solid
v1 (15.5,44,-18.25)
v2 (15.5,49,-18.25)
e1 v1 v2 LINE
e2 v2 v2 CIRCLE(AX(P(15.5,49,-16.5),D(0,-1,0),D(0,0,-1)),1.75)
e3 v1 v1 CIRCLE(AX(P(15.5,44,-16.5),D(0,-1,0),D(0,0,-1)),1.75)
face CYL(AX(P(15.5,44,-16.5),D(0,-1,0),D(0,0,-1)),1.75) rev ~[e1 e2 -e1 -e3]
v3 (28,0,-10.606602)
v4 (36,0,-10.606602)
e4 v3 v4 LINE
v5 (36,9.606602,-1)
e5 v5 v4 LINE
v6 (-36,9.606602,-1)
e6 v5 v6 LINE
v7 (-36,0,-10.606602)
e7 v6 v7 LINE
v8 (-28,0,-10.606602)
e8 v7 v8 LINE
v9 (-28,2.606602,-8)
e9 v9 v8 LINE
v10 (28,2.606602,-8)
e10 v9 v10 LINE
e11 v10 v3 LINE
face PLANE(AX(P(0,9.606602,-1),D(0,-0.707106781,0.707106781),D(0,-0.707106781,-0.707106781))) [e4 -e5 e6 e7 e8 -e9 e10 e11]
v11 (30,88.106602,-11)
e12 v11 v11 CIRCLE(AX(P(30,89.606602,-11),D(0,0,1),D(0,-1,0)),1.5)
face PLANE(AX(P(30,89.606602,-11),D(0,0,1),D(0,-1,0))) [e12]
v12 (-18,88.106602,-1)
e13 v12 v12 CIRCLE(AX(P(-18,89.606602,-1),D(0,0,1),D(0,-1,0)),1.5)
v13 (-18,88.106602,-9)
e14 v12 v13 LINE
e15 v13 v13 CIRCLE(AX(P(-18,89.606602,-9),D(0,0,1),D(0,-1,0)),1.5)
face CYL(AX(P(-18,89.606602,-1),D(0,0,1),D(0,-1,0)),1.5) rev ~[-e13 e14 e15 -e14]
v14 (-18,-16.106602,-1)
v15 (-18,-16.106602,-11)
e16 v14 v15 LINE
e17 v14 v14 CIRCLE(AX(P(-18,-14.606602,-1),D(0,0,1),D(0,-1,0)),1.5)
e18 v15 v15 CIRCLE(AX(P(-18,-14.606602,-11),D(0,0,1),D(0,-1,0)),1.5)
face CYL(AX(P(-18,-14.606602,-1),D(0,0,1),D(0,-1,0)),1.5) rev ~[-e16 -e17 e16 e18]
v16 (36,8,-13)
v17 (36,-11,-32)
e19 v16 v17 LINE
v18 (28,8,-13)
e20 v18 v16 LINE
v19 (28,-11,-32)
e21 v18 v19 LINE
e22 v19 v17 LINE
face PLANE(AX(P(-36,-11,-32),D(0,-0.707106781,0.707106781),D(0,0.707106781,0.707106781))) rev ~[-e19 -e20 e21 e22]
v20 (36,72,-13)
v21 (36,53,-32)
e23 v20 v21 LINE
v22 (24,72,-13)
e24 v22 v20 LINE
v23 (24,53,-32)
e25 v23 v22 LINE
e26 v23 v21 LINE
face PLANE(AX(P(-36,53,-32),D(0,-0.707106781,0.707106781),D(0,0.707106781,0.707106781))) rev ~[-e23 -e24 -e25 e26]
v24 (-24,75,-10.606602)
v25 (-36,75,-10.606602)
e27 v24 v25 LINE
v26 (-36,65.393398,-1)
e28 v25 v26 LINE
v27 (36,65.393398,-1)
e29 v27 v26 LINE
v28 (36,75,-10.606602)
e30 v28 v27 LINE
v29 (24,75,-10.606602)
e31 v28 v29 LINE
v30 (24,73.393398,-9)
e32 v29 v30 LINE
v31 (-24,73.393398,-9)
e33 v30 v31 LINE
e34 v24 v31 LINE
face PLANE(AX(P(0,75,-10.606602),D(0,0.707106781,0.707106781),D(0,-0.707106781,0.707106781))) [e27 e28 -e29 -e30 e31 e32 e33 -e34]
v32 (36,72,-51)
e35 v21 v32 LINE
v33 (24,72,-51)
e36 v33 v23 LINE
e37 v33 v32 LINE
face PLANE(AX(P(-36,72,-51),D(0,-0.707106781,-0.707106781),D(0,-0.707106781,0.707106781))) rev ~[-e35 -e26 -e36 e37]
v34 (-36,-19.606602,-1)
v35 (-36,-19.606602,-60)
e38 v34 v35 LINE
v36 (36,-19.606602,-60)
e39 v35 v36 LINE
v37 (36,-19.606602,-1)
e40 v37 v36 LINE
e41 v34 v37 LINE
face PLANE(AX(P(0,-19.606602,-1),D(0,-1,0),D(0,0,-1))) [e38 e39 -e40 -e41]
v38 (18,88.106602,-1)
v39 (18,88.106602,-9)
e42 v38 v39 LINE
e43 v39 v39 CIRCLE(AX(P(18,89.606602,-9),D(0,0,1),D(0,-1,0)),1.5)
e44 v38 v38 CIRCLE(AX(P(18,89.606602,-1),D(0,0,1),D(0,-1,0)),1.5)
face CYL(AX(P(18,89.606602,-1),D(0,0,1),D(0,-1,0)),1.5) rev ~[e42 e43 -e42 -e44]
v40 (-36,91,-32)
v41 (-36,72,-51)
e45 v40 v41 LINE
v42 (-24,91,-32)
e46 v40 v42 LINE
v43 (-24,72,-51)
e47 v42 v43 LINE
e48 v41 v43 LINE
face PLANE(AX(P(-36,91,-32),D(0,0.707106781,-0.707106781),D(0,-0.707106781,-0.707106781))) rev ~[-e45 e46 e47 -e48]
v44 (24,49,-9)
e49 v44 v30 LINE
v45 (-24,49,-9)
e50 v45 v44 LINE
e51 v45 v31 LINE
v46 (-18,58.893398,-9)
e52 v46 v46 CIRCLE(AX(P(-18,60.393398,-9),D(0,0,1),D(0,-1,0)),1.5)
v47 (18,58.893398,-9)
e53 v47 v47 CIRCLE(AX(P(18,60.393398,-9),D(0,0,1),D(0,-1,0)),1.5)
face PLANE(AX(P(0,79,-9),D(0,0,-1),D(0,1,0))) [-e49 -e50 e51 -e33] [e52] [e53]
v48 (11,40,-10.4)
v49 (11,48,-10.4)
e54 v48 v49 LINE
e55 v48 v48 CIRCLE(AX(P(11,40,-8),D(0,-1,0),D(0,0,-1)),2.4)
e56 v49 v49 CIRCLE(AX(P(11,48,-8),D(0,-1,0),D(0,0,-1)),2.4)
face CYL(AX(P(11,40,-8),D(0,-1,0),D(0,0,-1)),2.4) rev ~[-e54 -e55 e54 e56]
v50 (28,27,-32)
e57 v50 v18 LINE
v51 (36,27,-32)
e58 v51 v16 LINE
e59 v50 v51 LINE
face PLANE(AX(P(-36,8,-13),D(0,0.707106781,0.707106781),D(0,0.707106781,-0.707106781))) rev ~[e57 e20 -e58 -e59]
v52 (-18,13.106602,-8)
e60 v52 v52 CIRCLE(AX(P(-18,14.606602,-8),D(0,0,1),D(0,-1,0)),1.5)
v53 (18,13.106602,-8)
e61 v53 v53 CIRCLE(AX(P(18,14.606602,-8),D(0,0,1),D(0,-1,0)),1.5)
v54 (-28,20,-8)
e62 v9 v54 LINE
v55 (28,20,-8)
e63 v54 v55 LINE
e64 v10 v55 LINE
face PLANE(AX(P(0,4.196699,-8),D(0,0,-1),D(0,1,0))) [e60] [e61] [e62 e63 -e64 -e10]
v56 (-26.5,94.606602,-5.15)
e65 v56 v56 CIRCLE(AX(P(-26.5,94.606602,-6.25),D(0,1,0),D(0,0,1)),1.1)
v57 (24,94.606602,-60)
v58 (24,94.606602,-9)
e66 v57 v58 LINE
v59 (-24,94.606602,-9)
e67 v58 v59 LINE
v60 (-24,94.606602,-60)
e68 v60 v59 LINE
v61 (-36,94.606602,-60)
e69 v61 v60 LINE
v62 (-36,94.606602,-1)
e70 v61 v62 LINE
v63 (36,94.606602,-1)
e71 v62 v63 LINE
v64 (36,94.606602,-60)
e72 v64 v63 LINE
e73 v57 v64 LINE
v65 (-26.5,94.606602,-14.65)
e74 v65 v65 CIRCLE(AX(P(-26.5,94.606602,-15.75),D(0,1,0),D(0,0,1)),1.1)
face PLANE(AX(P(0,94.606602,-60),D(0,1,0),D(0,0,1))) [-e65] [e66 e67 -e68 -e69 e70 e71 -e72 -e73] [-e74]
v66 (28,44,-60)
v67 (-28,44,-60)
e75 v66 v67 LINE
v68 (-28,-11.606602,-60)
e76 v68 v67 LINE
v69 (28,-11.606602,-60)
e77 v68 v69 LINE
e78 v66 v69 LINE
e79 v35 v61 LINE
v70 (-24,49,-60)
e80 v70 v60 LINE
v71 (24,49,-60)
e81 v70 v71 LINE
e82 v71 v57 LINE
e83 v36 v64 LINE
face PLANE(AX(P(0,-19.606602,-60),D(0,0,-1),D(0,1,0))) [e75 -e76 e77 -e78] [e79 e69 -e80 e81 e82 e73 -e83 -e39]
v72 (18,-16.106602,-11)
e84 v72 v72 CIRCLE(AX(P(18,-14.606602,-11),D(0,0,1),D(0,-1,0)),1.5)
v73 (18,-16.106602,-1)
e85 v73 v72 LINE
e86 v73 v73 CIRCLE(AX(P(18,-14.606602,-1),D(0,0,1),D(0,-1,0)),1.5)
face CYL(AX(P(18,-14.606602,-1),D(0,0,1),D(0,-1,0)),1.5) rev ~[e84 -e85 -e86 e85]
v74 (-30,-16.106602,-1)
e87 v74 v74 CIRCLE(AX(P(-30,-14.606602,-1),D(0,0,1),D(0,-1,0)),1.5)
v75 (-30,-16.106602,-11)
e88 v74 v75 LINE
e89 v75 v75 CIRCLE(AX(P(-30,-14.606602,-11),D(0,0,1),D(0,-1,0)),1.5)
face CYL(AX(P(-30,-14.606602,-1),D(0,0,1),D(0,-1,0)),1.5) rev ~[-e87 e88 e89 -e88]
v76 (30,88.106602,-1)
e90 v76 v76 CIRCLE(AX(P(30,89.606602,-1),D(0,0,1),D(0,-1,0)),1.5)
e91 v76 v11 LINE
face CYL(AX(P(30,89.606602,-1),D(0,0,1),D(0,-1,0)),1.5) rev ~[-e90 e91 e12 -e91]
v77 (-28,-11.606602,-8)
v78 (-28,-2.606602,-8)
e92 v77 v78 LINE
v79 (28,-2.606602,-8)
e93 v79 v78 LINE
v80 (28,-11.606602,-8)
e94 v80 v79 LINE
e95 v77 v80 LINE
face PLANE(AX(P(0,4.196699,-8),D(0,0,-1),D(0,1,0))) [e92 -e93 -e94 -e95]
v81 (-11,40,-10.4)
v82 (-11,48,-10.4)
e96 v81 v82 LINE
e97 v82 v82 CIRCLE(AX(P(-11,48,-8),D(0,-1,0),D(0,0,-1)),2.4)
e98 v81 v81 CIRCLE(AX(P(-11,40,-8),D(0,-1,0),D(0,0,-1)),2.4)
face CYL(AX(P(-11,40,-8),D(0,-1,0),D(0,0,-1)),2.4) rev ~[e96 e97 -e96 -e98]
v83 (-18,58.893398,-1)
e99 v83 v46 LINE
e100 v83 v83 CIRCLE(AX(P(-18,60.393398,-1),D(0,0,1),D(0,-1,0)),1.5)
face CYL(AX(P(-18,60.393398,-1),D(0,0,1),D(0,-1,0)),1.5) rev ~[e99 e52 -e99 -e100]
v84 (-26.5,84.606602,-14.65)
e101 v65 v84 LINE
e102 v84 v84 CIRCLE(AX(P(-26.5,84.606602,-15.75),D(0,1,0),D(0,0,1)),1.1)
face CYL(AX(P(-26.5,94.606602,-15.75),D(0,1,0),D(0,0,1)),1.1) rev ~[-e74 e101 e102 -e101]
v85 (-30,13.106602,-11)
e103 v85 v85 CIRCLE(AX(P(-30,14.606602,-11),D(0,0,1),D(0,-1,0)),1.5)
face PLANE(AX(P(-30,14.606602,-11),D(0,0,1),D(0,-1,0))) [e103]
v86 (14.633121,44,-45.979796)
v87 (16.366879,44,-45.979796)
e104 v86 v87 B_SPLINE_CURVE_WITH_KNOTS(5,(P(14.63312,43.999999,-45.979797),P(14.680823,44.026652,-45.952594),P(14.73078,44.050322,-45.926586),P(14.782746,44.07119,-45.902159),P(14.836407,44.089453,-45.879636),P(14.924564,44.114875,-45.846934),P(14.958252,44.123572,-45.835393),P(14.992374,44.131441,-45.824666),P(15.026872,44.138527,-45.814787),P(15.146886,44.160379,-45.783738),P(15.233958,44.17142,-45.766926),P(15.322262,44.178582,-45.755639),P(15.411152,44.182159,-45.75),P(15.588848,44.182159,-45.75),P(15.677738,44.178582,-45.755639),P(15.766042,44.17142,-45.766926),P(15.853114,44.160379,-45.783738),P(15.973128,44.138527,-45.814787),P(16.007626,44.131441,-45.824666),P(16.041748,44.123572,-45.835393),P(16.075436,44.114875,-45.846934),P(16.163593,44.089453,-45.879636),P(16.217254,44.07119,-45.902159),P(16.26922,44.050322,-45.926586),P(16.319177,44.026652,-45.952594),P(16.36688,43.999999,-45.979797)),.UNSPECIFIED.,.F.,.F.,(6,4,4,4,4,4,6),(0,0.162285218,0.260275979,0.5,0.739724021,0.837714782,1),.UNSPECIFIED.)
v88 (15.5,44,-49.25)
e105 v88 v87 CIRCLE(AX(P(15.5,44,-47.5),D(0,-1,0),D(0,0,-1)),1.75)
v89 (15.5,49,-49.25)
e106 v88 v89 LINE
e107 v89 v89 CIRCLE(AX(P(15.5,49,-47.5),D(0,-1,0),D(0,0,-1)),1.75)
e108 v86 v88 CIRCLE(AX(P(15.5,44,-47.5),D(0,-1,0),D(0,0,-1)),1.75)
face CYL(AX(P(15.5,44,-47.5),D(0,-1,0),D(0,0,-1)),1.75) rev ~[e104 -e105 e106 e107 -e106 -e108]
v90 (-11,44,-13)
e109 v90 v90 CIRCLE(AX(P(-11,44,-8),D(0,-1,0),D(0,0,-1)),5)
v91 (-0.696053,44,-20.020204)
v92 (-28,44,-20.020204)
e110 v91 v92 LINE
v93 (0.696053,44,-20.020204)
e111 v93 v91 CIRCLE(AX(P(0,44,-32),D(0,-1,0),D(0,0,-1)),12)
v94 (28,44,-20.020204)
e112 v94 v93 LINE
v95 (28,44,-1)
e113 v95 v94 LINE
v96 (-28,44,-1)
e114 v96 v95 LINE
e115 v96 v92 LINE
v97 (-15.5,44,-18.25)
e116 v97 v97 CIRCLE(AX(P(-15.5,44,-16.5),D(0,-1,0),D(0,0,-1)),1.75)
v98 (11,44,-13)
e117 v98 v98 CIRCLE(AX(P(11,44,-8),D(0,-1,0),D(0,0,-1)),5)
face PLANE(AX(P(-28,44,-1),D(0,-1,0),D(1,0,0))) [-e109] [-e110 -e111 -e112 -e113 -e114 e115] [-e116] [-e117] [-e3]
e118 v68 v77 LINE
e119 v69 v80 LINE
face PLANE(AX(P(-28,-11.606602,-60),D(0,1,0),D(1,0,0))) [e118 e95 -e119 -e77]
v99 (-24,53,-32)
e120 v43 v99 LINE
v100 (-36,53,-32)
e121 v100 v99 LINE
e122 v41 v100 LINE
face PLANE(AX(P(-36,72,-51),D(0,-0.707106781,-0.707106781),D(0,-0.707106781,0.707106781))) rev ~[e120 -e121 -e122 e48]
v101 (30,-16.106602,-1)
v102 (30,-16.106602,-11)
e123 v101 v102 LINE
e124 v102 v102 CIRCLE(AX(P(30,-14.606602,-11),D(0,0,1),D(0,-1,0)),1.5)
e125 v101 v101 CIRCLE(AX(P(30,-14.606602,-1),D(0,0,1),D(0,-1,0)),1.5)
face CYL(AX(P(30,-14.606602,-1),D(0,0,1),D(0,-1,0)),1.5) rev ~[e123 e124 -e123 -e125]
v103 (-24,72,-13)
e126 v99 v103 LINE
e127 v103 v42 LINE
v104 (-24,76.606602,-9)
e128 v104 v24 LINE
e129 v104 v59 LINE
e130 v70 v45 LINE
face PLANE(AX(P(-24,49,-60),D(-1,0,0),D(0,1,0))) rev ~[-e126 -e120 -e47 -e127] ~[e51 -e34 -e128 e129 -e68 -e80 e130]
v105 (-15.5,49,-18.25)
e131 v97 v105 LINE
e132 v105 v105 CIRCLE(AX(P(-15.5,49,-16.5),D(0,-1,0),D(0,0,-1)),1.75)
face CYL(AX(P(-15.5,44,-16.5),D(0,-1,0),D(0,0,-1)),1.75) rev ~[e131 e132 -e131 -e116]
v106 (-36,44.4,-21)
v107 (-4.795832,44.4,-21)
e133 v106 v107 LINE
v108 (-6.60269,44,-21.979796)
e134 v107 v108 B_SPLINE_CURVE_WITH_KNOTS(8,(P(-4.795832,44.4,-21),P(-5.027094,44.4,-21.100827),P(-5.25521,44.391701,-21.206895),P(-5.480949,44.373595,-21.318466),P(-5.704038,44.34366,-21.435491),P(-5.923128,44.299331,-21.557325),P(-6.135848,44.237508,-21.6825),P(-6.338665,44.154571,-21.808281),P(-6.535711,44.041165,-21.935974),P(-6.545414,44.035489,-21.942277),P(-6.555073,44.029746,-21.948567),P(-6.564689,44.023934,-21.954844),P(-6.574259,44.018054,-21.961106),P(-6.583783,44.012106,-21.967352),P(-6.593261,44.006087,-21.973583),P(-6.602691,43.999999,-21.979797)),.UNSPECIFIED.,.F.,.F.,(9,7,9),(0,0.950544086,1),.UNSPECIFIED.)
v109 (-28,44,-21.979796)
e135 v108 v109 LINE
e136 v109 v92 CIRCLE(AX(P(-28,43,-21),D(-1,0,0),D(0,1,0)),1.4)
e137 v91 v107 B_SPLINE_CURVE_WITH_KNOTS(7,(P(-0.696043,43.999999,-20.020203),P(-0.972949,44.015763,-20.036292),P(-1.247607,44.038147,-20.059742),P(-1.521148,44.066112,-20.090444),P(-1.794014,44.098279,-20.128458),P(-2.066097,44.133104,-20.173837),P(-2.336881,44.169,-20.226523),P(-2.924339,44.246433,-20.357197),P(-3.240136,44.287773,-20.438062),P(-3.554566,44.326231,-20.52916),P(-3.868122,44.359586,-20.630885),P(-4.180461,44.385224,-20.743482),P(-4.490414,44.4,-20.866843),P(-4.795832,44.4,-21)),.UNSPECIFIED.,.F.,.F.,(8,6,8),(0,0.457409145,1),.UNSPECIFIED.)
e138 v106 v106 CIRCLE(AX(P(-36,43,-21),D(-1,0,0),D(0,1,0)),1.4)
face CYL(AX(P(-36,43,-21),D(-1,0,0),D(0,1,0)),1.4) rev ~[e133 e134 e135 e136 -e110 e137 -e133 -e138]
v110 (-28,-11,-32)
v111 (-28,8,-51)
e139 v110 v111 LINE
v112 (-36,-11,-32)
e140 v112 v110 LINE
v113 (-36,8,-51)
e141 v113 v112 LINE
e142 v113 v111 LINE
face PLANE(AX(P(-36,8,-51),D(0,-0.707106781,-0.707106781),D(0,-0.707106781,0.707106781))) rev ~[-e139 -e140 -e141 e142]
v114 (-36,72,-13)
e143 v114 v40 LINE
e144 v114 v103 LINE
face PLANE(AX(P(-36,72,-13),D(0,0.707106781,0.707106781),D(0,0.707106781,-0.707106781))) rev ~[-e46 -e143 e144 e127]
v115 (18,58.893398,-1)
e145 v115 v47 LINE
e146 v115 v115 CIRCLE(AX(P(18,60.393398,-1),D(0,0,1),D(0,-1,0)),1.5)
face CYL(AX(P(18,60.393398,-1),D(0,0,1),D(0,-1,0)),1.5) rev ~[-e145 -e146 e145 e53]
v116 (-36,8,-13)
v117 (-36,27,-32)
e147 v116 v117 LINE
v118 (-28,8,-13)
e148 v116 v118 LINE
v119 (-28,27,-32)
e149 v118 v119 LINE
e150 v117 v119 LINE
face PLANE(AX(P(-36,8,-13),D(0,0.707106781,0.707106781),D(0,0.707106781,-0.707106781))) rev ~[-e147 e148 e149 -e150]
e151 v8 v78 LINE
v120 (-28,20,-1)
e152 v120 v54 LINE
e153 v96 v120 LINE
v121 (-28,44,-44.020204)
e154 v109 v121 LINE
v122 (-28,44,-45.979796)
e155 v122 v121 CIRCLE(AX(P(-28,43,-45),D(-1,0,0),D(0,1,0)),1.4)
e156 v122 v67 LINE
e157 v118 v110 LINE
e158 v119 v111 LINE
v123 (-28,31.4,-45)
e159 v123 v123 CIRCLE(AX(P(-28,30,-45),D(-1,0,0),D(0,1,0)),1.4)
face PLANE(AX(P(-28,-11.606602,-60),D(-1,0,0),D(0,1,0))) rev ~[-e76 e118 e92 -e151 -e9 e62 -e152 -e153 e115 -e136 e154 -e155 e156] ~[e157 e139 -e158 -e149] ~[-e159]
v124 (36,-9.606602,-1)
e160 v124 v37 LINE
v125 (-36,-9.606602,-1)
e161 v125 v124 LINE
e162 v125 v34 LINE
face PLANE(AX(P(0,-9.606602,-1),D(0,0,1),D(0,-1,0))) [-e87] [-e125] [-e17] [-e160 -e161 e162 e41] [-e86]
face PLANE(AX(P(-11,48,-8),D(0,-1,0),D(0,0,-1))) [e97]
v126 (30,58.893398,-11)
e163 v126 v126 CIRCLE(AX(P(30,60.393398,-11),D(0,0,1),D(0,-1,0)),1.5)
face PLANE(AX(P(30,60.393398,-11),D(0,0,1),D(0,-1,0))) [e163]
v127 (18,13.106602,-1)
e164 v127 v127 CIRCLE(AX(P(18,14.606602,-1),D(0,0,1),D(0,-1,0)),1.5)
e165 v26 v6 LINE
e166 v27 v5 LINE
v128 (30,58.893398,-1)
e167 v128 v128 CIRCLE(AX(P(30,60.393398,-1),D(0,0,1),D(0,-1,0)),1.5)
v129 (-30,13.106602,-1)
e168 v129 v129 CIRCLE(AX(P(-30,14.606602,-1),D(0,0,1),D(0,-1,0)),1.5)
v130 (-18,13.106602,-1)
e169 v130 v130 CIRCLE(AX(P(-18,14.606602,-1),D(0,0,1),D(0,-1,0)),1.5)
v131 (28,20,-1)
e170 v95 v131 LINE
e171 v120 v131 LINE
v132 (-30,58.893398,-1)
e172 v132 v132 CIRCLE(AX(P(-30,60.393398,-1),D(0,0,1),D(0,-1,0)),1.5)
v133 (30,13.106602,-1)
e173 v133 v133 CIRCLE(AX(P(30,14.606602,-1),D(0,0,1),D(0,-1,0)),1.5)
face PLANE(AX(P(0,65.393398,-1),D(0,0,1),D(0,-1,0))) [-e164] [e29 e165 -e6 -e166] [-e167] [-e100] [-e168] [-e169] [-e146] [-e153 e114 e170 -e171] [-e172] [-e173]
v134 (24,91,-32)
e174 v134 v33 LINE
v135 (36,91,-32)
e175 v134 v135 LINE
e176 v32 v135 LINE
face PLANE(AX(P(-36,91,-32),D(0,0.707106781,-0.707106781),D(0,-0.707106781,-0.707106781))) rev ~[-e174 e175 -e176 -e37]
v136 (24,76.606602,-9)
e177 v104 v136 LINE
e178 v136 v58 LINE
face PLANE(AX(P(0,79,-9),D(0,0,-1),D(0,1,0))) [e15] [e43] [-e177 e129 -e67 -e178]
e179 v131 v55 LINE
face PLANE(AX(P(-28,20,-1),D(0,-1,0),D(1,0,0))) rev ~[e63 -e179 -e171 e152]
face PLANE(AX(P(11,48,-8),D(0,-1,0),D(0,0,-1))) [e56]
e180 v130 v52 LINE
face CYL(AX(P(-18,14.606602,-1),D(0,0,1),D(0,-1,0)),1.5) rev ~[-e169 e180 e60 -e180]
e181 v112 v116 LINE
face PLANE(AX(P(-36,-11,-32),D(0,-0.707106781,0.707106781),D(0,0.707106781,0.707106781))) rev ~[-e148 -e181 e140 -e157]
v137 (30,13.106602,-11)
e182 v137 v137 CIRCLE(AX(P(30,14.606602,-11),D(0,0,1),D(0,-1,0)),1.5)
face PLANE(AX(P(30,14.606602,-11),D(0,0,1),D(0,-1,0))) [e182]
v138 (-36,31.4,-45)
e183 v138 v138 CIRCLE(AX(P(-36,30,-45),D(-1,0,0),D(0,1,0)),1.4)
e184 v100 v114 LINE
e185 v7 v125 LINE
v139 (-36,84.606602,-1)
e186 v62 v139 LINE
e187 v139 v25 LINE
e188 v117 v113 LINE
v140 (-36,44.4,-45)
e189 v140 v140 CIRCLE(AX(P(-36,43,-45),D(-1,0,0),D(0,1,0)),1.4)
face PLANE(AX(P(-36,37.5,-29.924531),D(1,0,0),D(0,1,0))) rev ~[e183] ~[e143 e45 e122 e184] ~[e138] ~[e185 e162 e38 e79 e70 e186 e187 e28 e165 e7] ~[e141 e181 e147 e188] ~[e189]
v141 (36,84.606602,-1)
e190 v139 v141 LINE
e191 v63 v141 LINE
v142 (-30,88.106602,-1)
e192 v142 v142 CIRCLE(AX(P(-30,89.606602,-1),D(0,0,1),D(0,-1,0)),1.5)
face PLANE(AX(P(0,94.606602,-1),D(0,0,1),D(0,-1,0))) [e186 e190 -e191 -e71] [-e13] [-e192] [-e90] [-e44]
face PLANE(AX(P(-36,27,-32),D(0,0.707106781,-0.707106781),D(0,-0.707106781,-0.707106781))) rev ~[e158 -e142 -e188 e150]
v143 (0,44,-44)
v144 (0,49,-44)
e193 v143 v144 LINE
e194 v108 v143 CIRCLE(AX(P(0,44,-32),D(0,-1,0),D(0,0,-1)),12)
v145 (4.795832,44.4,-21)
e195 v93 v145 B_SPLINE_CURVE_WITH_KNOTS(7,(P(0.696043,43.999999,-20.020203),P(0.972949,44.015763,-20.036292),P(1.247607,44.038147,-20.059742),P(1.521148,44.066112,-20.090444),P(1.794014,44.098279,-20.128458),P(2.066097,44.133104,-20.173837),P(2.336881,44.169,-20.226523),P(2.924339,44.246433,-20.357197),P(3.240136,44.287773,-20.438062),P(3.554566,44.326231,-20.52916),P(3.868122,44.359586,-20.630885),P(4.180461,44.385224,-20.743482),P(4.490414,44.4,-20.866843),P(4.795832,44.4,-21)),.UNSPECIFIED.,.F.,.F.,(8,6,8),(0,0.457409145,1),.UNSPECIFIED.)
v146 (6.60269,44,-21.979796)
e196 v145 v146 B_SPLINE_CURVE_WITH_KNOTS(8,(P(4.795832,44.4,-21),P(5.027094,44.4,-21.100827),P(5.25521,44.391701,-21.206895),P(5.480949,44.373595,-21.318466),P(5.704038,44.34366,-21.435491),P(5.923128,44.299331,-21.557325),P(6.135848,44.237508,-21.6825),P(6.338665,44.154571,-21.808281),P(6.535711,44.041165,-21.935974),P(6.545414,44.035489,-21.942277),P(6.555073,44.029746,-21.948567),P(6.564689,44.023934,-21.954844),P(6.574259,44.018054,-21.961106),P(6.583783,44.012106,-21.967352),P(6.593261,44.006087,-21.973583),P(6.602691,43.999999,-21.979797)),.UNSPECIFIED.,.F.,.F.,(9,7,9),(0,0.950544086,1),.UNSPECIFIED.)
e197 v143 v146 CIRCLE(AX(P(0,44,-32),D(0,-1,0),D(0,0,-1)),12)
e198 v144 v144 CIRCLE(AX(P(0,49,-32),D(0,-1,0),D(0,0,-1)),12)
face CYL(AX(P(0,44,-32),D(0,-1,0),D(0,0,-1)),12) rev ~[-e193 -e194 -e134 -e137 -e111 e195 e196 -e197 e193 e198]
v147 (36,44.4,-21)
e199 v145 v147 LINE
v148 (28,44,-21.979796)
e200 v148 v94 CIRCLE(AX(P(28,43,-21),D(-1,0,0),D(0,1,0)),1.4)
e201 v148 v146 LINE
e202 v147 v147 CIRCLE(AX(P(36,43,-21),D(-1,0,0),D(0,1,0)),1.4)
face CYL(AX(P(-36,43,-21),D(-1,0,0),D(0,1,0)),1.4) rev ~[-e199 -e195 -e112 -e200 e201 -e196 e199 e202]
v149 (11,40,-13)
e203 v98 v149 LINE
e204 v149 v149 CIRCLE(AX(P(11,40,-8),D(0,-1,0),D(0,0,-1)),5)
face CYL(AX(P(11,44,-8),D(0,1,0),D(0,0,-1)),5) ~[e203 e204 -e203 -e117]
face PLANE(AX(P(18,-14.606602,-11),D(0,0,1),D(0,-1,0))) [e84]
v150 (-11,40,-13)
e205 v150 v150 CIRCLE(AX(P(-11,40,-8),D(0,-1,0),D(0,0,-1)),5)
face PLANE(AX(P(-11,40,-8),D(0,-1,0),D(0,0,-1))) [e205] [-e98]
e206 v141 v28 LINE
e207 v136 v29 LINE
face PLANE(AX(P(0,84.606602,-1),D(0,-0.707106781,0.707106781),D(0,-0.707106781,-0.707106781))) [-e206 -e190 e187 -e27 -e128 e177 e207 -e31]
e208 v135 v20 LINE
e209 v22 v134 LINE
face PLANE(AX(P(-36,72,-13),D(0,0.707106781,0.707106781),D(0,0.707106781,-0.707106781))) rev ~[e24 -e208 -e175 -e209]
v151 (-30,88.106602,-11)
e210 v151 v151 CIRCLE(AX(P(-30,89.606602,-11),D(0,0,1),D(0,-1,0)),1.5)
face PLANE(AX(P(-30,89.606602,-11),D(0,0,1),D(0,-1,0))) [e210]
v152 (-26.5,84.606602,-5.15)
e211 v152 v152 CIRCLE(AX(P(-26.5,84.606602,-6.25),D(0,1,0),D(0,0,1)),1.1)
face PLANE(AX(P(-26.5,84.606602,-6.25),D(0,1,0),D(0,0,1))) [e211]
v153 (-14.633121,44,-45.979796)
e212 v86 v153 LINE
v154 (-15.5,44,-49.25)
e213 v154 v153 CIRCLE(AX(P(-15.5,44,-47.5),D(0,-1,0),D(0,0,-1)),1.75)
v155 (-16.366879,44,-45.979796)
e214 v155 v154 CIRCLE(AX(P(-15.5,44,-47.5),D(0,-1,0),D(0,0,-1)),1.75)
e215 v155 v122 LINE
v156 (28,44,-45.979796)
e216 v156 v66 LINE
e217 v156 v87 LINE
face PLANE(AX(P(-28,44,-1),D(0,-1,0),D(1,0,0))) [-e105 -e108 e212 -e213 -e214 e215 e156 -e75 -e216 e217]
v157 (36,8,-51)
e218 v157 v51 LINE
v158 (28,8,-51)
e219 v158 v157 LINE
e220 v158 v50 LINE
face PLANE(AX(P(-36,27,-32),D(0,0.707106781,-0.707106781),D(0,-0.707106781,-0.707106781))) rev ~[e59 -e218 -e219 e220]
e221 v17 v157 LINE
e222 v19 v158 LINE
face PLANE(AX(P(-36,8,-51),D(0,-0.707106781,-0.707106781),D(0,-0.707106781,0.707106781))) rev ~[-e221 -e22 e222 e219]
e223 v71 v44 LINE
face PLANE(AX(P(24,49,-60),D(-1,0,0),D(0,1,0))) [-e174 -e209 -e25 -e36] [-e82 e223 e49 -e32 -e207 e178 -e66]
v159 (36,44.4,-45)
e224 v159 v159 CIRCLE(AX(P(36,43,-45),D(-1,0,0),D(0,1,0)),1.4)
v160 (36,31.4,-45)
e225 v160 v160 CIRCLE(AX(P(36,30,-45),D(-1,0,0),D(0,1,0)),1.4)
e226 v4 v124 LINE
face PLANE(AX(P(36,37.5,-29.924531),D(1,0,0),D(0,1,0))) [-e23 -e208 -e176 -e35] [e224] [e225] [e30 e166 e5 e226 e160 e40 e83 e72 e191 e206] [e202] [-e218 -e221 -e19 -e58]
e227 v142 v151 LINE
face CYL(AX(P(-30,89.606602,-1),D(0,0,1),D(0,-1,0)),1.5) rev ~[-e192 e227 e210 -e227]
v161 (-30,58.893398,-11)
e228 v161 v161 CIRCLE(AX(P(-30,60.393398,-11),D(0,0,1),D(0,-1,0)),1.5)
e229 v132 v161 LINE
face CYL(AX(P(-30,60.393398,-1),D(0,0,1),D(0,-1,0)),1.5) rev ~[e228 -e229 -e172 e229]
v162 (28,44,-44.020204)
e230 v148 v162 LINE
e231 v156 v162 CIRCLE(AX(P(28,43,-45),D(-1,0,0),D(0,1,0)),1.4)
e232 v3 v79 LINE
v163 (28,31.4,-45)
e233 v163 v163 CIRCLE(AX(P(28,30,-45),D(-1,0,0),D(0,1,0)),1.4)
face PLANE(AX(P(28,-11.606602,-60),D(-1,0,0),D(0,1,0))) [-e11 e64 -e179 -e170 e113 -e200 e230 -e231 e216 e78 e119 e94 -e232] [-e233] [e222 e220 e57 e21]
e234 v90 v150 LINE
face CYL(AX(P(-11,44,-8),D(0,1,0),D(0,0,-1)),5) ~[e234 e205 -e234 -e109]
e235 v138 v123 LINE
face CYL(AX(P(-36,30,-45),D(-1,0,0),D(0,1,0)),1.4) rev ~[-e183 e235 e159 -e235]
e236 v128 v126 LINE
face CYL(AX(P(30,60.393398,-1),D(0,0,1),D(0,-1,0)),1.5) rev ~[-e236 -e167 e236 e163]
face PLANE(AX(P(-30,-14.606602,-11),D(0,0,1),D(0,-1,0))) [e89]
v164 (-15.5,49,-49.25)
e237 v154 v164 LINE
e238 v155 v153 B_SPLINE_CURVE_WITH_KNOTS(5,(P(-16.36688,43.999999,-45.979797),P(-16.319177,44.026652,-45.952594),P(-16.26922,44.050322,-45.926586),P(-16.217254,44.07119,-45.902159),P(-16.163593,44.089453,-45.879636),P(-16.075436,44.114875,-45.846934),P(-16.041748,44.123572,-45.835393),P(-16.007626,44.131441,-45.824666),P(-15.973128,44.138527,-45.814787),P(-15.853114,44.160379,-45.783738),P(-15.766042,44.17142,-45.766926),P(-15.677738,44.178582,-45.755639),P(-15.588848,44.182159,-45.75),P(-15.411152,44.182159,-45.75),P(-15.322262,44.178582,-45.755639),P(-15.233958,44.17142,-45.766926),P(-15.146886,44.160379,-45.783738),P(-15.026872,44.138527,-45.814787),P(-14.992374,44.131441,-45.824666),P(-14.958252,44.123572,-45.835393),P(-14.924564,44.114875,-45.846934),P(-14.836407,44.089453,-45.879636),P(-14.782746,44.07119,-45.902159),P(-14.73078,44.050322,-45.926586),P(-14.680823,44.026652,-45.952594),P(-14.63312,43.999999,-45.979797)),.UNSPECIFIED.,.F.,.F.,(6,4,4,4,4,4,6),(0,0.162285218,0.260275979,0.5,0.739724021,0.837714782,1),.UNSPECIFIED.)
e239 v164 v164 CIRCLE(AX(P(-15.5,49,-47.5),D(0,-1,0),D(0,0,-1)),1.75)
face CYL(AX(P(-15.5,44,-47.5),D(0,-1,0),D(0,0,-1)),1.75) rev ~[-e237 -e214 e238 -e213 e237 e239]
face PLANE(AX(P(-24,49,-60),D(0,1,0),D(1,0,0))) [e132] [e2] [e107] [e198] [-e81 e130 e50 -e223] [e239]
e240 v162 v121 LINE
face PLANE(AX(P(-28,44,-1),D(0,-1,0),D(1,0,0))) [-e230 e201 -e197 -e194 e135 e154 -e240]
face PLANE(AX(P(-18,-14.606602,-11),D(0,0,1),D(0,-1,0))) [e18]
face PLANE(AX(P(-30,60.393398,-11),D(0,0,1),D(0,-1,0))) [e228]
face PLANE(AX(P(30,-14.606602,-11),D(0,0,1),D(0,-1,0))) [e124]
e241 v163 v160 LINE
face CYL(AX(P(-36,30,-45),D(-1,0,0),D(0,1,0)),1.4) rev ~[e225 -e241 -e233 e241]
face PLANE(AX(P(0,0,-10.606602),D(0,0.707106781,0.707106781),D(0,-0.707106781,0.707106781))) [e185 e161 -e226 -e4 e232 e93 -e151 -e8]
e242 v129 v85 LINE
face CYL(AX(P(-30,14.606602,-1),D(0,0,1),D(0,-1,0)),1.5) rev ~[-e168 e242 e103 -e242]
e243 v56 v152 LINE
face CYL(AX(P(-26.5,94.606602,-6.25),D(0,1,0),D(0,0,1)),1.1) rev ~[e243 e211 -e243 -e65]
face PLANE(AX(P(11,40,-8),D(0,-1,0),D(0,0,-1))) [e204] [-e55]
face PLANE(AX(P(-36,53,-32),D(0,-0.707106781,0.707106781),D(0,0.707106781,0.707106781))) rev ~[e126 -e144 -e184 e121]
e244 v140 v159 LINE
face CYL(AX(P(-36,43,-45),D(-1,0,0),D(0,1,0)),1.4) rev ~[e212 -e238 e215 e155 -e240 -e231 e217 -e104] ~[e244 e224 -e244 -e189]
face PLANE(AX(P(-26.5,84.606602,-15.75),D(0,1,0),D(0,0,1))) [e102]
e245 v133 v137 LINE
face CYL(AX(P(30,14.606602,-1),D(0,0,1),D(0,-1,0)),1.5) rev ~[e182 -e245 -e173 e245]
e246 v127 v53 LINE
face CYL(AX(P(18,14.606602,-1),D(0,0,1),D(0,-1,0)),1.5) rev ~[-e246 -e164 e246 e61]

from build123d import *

# Parameters (mm, degrees)
PAD008_DEPTH       = 36
SKETCH008_W        = 24
SKETCH008_H        = 56
POCKET_DEPTH       = 59.001
SKETCH009_W        = 60
SKETCH009_H        = 48
POCKET001_DEPTH    = 51
SKETCH010_R        = 12
SKETCH010_R_2      = 1.75
POCKET002_DEPTH    = 5
SKETCH011_R        = 5
PAD009_DEPTH       = 4
SKETCH012_R        = 2.4
POCKET003_DEPTH    = 8
SKETCH015_R        = 1.5
POCKET005_DEPTH    = 10
SKETCH022_R        = 1.1
POCKET006007_DEPTH = 10
SKETCH026_R        = 1.4
POCKET006008_DEPTH = 72.001
SKETCH027_W        = 31.606602
SKETCH027_H        = 56
POCKET006009_DEPTH = 52


with BuildPart() as part:
    # Sketch007 → Pad008 (new body, symmetric)
    with BuildSketch(Plane.YZ):
        Polygon((9.606602, -1), (0, -10.606602), (-9.606602, -1), (-19.606602, -1), (-19.606602, -60), (94.606602, -60), (94.606602, -1), (84.606602, -1), (75, -10.606602), (65.393398, -1), align=None)
    extrude(amount=PAD008_DEPTH, both=True)

    # Sketch008 → Pocket (cut, through all)
    with BuildSketch(Plane(origin=(0, 0, -1), x_dir=(0, -1, 0), z_dir=(0, 0, 1))):
        with Locations((-32, 0)):
            Rectangle(SKETCH008_W, SKETCH008_H)
    extrude(amount=-POCKET_DEPTH, mode=Mode.SUBTRACT)

    # Sketch009 → Pocket001 (cut)
    with BuildSketch(Plane.YX.offset(60)):
        with Locations((79, 0)):
            Rectangle(SKETCH009_W, SKETCH009_H)
    extrude(amount=-POCKET001_DEPTH, mode=Mode.SUBTRACT)

    # Sketch010 → Pocket002 (cut)
    with BuildSketch(Plane(origin=(0, 44, 0), x_dir=(0, 0, -1), z_dir=(0, -1, 0))):
        with Locations((32, 0)):
            Circle(SKETCH010_R)
        with Locations((16.5, 15.5)):
            Circle(SKETCH010_R_2)
        with Locations((47.5, 15.5)):
            Circle(SKETCH010_R_2)
        with Locations((47.5, -15.5)):
            Circle(SKETCH010_R_2)
        with Locations((16.5, -15.5)):
            Circle(SKETCH010_R_2)
    extrude(amount=-POCKET002_DEPTH, mode=Mode.SUBTRACT)

    # Sketch011 → Pad009 (new body)
    with BuildSketch(Plane(origin=(0, 44, 0), x_dir=(0, 0, -1), z_dir=(0, -1, 0))):
        with Locations((8, 11)):
            Circle(SKETCH011_R)
        with Locations((8, -11)):
            Circle(SKETCH011_R)
    extrude(amount=PAD009_DEPTH)

    # Sketch012 → Pocket003 (cut)
    with BuildSketch(Plane(origin=(0, 40, 0), x_dir=(0, 0, -1), z_dir=(0, -1, 0))):
        with Locations((8, 11)):
            Circle(SKETCH012_R)
        with Locations((8, -11)):
            Circle(SKETCH012_R)
    extrude(amount=-POCKET003_DEPTH, mode=Mode.SUBTRACT)

    # Sketch015 → Pocket005 (cut)
    with BuildSketch(Plane(origin=(0, 0, -1), x_dir=(0, -1, 0), z_dir=(0, 0, 1))):
        with Locations((-89.606602, 30)):
            Circle(SKETCH015_R)
        with Locations((-89.606602, 18)):
            Circle(SKETCH015_R)
        with Locations((-60.393398, 30)):
            Circle(SKETCH015_R)
        with Locations((-60.393398, 18)):
            Circle(SKETCH015_R)
        with Locations((-89.606602, -18)):
            Circle(SKETCH015_R)
        with Locations((-89.606602, -30)):
            Circle(SKETCH015_R)
        with Locations((-60.393398, -18)):
            Circle(SKETCH015_R)
        with Locations((-60.393398, -30)):
            Circle(SKETCH015_R)
        with Locations((-14.606602, 30)):
            Circle(SKETCH015_R)
        with Locations((14.606602, 18)):
            Circle(SKETCH015_R)
        with Locations((14.606602, 30)):
            Circle(SKETCH015_R)
        with Locations((-14.606602, 18)):
            Circle(SKETCH015_R)
        with Locations((-14.606602, -18)):
            Circle(SKETCH015_R)
        with Locations((-14.606602, -30)):
            Circle(SKETCH015_R)
        with Locations((14.606602, -18)):
            Circle(SKETCH015_R)
        with Locations((14.606602, -30)):
            Circle(SKETCH015_R)
    extrude(amount=-POCKET005_DEPTH, mode=Mode.SUBTRACT)

    # Sketch022 → Pocket006007 (cut)
    with BuildSketch(Plane.ZX.offset(94.606602)):
        with Locations((-15.75, -26.5)):
            Circle(SKETCH022_R)
        with Locations((-6.25, -26.5)):
            Circle(SKETCH022_R)
    extrude(amount=-POCKET006007_DEPTH, mode=Mode.SUBTRACT)

    # Sketch026 → Pocket006008 (cut, through all)
    with BuildSketch(Plane(origin=(-36, 0, 0), x_dir=(0, 1, 0), z_dir=(-1, 0, 0))):
        with Locations((30, 45)):
            Circle(SKETCH026_R)
        with Locations((43, 45)):
            Circle(SKETCH026_R)
        with Locations((43, 21)):
            Circle(SKETCH026_R)
        Polygon((8, 13), (27, 32), (8, 51), (-11, 32), align=None)
        Polygon((72, 13), (91, 32), (72, 51), (53, 32), align=None)
    extrude(amount=-POCKET006008_DEPTH, mode=Mode.SUBTRACT)

    # Sketch027 → Pocket006009 (cut)
    with BuildSketch(Plane.YX.offset(60)):
        with Locations((4.196699, 0)):
            Rectangle(SKETCH027_W, SKETCH027_H)
    extrude(amount=-POCKET006009_DEPTH, mode=Mode.SUBTRACT)


solid = part.part
